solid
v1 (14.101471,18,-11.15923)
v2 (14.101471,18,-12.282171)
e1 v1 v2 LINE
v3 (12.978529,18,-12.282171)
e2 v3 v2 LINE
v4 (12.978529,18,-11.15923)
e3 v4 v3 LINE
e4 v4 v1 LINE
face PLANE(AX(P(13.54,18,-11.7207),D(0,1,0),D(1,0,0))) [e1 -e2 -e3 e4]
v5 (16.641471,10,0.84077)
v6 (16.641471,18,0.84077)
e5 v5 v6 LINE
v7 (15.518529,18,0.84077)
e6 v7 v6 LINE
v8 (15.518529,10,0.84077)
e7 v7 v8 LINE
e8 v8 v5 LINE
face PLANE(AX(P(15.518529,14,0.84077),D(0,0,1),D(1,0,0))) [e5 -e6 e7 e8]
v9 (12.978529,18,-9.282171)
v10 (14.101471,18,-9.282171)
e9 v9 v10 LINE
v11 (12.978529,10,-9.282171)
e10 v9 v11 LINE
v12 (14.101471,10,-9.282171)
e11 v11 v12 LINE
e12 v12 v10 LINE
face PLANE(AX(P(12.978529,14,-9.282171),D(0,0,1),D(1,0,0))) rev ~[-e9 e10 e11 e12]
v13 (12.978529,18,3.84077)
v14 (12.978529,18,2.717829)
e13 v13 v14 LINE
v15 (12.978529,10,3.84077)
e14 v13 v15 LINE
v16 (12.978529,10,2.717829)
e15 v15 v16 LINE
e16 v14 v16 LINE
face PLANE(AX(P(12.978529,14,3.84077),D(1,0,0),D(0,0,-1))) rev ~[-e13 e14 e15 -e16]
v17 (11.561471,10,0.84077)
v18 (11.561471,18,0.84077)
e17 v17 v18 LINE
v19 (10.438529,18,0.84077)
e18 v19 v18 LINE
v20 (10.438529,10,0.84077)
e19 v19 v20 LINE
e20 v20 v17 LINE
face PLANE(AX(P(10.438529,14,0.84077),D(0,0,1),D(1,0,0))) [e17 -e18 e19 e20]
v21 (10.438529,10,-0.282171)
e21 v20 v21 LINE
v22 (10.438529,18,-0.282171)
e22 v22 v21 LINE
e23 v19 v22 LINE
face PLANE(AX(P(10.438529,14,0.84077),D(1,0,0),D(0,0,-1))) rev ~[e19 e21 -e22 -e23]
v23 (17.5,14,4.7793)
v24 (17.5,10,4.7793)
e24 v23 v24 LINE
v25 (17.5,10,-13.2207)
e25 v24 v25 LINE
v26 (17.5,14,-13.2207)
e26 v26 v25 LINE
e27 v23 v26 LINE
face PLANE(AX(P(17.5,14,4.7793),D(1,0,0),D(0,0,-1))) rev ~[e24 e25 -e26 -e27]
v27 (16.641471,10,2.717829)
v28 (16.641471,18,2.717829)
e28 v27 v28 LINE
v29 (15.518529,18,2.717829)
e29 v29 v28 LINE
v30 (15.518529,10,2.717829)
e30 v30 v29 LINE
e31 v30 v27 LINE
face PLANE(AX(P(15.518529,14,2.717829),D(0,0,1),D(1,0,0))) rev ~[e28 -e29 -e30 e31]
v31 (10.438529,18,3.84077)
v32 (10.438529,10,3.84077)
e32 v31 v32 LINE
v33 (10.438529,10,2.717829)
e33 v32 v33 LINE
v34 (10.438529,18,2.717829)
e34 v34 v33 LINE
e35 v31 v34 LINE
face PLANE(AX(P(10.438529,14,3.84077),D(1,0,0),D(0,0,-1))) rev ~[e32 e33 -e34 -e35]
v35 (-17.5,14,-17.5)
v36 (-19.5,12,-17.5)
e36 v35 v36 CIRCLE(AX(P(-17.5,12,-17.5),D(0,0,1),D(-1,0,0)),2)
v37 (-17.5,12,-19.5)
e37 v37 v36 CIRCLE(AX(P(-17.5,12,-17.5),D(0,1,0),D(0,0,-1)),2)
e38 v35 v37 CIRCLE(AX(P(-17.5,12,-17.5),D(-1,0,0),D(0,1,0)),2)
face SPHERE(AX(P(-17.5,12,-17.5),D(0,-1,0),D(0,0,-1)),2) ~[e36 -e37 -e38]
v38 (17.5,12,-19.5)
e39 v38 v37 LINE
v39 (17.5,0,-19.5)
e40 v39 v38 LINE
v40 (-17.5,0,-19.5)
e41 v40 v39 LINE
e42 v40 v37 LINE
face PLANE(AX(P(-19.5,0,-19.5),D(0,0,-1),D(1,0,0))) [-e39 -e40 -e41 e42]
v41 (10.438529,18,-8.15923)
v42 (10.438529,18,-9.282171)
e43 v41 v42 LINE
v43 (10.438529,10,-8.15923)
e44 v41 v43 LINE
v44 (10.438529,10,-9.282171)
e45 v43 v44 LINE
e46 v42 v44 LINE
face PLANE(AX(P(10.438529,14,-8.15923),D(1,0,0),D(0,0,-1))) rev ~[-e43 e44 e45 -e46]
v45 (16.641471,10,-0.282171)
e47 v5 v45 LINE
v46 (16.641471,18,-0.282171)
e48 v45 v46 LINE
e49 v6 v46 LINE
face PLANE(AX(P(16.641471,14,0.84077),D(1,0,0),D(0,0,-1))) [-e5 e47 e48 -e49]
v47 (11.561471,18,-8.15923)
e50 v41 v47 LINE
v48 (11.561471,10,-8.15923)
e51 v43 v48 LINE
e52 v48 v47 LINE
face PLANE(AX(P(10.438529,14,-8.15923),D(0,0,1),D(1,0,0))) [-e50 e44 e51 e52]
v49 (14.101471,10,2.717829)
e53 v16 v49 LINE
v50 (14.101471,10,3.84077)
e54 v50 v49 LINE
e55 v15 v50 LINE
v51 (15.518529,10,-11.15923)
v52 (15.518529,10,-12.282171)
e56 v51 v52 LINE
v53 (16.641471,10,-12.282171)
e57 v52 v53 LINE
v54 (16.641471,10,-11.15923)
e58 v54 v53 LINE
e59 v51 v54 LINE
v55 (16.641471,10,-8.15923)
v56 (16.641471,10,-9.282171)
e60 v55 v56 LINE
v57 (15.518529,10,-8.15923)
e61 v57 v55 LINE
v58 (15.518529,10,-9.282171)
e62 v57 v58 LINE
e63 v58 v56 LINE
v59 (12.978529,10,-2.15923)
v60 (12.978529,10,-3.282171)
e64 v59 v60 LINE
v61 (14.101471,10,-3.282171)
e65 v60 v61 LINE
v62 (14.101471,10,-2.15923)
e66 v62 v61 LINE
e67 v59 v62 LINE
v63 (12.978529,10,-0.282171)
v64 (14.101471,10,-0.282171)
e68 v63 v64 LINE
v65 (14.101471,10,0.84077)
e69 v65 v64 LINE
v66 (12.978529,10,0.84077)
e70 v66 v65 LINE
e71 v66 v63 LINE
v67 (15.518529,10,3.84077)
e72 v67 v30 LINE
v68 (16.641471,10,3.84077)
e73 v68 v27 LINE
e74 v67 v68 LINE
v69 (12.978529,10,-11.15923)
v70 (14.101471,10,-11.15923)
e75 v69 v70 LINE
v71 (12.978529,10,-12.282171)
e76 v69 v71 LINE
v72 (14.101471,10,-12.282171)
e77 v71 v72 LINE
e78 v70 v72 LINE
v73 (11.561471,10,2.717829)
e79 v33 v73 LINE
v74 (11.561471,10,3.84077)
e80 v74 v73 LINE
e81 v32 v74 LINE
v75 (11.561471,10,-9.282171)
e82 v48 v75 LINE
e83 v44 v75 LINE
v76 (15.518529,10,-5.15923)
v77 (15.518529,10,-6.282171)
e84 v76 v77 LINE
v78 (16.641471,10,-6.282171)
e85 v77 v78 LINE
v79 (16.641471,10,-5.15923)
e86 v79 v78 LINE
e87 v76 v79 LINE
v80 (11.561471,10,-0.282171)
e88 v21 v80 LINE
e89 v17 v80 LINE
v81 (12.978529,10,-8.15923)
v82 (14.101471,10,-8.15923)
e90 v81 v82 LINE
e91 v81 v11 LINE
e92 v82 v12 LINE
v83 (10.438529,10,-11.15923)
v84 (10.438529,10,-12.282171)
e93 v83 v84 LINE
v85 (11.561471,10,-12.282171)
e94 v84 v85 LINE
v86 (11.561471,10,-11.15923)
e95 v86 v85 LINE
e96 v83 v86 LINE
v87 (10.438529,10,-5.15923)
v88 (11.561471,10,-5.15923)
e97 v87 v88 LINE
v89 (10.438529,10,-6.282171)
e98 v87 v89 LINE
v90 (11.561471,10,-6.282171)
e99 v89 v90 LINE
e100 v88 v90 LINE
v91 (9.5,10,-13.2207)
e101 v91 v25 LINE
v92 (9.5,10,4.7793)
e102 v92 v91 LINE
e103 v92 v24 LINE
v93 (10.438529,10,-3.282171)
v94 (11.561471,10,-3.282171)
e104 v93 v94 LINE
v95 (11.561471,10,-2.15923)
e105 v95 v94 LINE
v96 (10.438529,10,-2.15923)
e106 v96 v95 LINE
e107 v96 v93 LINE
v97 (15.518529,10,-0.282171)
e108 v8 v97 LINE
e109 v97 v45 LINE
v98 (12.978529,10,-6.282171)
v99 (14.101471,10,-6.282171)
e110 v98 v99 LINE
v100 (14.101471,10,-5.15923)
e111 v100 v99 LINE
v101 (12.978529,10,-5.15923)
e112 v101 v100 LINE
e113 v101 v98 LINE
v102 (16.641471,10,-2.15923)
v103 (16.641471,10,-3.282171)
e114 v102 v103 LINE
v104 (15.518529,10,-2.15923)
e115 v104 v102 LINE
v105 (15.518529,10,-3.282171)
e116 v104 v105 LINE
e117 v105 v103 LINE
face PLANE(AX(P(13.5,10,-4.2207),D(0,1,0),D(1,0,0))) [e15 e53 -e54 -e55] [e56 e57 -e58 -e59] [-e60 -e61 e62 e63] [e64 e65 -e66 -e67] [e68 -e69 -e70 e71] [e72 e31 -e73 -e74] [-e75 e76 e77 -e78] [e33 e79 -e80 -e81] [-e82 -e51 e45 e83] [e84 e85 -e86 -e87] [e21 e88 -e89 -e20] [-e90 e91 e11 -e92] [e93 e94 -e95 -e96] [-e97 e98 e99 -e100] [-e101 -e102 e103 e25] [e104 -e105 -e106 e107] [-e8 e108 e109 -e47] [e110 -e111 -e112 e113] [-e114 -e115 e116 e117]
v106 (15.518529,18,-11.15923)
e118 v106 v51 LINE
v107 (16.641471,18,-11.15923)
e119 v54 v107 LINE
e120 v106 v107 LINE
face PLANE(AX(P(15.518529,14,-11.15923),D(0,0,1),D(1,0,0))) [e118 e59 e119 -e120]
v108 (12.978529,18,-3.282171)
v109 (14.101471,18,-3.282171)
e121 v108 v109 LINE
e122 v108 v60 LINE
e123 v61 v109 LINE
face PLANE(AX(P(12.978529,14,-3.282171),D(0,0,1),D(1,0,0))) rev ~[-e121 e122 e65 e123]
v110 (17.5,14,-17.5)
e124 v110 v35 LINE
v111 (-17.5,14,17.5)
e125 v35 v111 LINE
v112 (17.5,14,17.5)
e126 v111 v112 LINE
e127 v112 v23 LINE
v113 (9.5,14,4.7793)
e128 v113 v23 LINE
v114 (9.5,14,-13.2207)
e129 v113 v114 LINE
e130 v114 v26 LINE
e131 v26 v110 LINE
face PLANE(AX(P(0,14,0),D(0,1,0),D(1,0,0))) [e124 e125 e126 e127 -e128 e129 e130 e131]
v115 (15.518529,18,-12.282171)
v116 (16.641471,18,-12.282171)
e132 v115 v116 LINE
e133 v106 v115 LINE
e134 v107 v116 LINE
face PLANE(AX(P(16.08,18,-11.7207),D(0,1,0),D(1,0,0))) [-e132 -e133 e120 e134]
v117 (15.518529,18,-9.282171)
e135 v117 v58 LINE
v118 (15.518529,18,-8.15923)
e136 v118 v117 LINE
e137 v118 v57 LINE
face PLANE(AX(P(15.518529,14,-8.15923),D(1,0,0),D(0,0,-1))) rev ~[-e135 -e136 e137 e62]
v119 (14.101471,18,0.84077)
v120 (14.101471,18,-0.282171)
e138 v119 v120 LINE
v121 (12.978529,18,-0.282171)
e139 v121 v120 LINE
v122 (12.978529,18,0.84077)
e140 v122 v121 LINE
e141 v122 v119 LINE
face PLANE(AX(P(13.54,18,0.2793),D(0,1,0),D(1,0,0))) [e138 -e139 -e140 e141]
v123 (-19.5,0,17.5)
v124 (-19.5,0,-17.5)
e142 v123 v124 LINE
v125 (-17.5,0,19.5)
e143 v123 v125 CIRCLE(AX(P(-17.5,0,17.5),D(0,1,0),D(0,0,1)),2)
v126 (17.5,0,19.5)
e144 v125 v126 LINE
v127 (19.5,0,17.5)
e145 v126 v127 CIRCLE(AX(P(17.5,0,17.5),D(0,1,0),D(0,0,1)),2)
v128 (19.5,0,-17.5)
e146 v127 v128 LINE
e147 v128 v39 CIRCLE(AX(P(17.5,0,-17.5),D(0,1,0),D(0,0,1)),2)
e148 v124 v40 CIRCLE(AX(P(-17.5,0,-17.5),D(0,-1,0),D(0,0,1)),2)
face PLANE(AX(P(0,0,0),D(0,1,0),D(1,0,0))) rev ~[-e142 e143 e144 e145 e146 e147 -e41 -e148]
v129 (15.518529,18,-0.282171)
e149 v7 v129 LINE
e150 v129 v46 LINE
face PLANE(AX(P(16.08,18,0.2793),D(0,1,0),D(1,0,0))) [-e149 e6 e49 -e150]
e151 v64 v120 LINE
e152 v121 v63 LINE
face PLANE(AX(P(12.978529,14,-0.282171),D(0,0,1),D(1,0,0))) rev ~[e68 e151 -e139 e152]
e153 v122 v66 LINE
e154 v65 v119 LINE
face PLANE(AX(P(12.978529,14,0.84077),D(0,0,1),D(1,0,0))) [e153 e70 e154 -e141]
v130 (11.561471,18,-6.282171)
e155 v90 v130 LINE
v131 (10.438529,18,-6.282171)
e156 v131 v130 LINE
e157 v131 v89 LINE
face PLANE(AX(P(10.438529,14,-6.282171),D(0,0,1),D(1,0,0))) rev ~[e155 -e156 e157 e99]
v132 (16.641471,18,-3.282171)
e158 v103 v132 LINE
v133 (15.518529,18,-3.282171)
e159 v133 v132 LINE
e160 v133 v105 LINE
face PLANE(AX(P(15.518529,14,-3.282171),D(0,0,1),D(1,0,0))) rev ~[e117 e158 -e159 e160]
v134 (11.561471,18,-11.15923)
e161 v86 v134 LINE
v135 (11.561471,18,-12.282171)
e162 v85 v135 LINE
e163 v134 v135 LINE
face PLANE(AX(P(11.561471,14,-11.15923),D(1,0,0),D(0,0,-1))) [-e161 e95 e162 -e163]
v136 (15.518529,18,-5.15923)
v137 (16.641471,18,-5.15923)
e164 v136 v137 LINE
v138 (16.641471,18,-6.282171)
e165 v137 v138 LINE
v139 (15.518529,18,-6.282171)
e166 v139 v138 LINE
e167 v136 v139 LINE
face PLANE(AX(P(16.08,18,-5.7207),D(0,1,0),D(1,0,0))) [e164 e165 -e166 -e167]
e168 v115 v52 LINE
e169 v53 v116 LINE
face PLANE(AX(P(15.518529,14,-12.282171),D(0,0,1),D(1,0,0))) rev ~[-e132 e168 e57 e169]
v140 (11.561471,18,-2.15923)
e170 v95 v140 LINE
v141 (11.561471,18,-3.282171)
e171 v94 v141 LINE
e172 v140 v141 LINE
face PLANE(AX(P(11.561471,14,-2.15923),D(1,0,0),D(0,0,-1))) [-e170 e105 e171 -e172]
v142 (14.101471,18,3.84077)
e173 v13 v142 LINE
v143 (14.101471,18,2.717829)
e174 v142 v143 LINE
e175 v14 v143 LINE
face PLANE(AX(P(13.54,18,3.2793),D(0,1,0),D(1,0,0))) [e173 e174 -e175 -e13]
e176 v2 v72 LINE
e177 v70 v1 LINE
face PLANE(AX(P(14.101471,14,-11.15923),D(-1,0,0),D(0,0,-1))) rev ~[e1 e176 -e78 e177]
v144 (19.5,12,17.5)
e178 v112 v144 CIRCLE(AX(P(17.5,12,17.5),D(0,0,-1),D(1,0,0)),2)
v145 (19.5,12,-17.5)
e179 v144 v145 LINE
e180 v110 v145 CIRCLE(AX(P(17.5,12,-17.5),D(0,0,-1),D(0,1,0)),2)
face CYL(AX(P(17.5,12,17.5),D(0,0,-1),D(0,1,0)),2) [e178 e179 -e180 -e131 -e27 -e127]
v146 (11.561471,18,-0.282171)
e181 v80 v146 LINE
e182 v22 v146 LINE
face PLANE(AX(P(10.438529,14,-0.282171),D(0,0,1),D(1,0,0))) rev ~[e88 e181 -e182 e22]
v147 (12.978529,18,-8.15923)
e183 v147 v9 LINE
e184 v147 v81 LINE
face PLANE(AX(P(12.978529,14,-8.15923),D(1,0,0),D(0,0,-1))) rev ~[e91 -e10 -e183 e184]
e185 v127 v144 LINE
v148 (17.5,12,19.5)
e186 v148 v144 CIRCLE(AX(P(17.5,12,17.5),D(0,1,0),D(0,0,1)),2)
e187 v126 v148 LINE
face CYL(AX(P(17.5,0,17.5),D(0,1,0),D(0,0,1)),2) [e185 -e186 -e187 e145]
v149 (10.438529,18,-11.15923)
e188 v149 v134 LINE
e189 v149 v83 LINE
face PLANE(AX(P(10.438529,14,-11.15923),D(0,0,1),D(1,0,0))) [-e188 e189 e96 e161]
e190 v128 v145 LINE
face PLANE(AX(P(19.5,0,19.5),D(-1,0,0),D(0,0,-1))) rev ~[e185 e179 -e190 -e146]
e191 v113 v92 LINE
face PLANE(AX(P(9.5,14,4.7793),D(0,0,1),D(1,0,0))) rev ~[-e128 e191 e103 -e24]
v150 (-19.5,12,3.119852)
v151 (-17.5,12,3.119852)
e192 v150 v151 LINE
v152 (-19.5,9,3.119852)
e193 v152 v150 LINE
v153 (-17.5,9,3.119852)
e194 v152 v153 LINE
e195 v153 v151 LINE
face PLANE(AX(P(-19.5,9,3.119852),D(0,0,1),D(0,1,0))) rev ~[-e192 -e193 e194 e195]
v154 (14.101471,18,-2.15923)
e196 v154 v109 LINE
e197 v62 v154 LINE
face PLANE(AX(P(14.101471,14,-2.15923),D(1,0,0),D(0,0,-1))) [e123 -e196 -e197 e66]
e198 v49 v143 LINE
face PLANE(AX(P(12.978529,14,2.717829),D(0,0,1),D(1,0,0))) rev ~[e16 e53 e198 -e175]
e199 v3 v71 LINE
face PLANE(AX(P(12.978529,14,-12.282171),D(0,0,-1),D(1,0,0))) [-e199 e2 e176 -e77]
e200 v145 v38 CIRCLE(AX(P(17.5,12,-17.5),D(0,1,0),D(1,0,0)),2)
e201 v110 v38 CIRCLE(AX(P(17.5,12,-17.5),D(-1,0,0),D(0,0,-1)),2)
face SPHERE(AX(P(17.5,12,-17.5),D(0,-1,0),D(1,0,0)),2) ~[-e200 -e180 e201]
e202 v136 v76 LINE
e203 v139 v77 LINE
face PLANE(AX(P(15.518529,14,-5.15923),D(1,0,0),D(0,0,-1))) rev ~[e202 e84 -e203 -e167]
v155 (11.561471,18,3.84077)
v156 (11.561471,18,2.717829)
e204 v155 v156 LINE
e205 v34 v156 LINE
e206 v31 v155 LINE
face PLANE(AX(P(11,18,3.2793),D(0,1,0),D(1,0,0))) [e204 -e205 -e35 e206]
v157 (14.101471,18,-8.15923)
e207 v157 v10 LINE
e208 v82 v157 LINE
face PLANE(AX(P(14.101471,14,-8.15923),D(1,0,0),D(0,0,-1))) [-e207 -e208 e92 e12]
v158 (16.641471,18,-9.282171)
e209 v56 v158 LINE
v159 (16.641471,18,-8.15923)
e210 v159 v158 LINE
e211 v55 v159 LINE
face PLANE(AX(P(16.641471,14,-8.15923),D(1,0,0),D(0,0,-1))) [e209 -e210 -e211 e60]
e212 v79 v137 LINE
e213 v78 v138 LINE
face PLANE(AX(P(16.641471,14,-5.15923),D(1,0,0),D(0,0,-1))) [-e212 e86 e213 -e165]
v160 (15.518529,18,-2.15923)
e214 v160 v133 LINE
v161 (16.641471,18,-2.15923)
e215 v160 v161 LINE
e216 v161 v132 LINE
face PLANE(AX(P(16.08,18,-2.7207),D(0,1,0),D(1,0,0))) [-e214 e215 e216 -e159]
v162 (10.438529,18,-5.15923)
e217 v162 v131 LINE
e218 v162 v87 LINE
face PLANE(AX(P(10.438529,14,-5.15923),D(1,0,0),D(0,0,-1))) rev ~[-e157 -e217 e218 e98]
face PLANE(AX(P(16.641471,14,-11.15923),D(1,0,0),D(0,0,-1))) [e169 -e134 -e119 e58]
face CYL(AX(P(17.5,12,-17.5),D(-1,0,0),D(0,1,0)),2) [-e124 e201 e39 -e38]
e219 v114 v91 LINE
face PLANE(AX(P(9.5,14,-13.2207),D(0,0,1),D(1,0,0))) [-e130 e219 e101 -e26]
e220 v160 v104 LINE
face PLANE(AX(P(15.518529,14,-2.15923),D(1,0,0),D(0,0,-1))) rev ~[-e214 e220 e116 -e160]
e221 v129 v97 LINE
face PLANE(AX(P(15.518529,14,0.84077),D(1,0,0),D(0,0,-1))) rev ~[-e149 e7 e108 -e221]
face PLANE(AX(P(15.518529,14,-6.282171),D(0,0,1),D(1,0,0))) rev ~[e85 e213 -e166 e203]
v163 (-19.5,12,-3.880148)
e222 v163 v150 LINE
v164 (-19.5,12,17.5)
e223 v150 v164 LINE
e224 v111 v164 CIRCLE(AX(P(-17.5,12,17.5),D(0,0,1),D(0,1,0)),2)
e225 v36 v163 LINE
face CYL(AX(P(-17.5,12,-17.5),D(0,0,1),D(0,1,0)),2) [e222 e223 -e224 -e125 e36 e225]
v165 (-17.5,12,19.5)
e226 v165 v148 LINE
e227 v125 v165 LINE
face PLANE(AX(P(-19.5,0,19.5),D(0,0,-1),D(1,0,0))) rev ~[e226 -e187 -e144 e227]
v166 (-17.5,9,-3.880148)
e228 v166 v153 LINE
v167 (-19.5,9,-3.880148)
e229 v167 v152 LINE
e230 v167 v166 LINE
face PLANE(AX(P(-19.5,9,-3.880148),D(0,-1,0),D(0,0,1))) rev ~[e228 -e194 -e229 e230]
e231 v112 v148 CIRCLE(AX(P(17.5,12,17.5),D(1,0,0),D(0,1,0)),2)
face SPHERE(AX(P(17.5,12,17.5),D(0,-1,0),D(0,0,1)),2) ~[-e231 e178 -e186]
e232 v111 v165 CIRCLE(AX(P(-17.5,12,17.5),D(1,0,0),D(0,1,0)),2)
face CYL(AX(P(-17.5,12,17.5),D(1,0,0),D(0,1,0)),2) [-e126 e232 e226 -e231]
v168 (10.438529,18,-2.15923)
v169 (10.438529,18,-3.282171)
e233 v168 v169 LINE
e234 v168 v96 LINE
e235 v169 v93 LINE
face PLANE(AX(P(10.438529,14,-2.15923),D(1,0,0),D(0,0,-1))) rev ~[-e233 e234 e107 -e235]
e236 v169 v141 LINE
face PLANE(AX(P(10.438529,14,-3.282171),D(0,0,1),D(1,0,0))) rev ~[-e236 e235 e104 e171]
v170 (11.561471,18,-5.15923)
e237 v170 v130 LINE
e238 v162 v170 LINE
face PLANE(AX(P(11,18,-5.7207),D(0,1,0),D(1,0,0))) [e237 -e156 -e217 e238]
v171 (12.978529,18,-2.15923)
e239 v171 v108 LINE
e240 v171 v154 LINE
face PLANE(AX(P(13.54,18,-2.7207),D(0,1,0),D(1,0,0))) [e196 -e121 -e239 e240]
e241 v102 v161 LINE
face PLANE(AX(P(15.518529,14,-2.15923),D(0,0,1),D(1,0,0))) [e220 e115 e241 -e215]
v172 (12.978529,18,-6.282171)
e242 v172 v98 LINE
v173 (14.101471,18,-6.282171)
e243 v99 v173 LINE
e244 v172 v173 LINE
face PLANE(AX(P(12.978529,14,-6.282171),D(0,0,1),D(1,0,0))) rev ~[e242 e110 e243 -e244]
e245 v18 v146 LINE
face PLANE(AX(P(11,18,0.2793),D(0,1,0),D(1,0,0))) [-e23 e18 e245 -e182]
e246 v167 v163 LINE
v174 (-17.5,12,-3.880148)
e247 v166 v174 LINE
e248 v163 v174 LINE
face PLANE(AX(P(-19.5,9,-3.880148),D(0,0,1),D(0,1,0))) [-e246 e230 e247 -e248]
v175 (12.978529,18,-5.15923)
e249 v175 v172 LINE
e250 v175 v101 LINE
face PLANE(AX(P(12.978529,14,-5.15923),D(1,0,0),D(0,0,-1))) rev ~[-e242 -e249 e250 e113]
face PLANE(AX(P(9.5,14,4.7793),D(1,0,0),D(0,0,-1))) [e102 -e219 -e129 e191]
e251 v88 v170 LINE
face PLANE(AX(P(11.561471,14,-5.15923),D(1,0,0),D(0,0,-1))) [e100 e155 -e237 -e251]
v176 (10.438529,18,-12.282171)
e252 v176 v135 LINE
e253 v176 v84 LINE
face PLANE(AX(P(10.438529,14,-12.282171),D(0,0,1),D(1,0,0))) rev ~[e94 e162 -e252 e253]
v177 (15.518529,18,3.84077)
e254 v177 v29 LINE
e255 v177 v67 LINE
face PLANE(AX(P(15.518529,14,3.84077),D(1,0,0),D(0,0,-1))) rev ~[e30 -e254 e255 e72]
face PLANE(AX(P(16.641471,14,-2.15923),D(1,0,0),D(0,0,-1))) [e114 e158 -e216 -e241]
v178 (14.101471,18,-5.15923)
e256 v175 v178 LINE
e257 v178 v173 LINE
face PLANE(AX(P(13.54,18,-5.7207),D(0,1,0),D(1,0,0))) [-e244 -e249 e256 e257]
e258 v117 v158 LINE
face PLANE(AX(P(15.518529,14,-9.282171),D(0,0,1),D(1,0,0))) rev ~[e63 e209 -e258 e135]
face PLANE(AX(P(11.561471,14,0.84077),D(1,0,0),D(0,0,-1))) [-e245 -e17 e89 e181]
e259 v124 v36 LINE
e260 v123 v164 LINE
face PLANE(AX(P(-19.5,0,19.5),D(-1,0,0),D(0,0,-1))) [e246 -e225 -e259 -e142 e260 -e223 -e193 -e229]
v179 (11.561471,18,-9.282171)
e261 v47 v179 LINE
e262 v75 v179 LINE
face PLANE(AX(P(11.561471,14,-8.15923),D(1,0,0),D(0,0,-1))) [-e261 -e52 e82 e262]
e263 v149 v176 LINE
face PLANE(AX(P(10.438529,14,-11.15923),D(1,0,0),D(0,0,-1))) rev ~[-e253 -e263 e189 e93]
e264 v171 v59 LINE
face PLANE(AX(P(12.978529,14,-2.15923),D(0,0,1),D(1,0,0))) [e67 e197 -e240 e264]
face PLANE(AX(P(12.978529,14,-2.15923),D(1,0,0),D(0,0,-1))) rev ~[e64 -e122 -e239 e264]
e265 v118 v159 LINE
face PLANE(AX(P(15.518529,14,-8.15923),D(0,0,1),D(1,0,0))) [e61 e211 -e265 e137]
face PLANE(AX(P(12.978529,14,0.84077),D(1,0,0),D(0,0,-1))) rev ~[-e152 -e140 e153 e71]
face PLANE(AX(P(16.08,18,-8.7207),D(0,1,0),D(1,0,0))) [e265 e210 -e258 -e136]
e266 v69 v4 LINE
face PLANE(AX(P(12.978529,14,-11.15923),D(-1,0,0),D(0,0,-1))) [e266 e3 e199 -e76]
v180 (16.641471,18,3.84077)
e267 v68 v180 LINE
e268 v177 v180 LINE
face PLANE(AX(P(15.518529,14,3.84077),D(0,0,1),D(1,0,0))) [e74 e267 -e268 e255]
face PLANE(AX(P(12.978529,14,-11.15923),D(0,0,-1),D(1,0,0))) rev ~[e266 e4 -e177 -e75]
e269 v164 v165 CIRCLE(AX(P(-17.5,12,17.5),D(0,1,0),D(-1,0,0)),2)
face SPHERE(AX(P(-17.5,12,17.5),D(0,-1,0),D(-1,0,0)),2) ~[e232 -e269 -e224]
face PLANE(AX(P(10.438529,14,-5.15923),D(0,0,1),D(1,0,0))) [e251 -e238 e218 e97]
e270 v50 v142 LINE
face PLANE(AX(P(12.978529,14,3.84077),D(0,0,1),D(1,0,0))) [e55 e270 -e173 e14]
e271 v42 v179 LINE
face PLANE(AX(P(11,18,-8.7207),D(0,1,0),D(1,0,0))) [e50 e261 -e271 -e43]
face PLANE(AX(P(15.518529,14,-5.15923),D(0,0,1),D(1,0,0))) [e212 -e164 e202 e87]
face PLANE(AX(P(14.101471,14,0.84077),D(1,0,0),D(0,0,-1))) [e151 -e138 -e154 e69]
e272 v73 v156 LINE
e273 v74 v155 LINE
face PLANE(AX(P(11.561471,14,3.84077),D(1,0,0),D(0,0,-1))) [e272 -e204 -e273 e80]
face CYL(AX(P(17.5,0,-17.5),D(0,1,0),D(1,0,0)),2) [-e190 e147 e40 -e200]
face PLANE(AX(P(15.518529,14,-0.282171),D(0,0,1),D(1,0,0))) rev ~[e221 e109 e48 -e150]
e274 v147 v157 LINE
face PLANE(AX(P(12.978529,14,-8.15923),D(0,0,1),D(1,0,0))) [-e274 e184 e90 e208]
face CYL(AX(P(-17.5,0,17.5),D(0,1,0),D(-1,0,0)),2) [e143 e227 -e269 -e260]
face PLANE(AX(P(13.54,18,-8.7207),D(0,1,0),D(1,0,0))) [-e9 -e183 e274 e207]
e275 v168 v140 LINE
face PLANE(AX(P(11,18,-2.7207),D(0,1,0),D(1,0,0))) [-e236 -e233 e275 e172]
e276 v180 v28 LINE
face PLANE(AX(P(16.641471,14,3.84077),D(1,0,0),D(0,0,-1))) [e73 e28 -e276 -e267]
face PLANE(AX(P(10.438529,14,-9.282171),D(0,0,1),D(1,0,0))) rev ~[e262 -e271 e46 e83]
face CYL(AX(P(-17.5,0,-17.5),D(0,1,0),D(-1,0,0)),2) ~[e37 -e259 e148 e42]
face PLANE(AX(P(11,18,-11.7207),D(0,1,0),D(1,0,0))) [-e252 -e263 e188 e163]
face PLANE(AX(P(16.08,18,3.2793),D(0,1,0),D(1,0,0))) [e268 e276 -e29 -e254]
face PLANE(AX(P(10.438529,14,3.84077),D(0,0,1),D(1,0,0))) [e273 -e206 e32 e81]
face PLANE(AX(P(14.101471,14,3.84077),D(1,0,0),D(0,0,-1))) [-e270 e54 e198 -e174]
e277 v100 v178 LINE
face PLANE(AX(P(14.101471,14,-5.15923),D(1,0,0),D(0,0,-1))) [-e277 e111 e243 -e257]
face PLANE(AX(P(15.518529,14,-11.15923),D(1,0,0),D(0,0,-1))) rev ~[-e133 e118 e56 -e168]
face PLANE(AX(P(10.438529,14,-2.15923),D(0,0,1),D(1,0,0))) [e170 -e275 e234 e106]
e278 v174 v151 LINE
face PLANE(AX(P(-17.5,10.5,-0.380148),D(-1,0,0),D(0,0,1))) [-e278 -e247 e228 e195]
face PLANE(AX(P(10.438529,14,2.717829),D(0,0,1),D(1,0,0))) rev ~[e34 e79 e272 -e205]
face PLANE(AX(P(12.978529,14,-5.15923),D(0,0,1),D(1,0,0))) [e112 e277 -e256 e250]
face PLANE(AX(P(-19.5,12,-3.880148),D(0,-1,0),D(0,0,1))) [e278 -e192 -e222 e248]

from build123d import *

# Parameters (mm, degrees)
SKETCH1_W           = 39
SKETCH1_H           = 39
BOSS_EXTRUDE1_DEPTH = 14
FILLET1_R           = 2
FILLET2_R           = 2
SKETCH2_W           = 8
SKETCH2_H           = 18
SKETCH2_W_2         = 1.12294134
SKETCH2_H_2         = 1.122941341
CUT_EXTRUDE1_DEPTH  = 4
SKETCH2_2_W         = 1.12294134
SKETCH2_2_H         = 1.122941341
BOSS_EXTRUDE3_DEPTH = 4
SKETCH3_W           = 7
SKETCH3_H           = 3
CUT_EXTRUDE2_DEPTH  = 2


with BuildPart() as part:
    # Sketch1 → Boss-Extrude1 (new body)
    with BuildSketch(Plane(origin=(0, 0, 0), x_dir=(1, 0, 0), z_dir=(0, 1, 0))):
        Rectangle(SKETCH1_W, SKETCH1_H)
    extrude(amount=BOSS_EXTRUDE1_DEPTH)

    # Fillet1
    fillet1_edges = [part.edges().sort_by_distance(p)[0] for p in [
        (19.5, 7, 19.5),
        (-19.5, 7, 19.5),
        (-19.5, 7, -19.5),
        (19.5, 7, -19.5),
    ]]
    fillet(fillet1_edges, radius=FILLET1_R)

    # Fillet2
    fillet2_edges = [part.edges().sort_by_distance(p)[0] for p in [
        (0, 14, 19.5),
        (-19.5, 14, 0),
        (19.5, 14, 0),
        (0, 14, -19.5),
        (18.914213562, 14, 18.914213562),
        (18.914213562, 14, -18.914213562),
        (-18.914213562, 14, -18.914213562),
        (-18.914213562, 14, 18.914213562),
    ]]
    fillet(fillet2_edges, radius=FILLET2_R)

    # Sketch2 → Cut-Extrude1 (cut)
    with BuildSketch(Plane(origin=(0, 14, 0), x_dir=(1, 0, 0), z_dir=(0, 1, 0))):
        with Locations((13.5, 4.220700243)):
            Rectangle(SKETCH2_W, SKETCH2_H)
        with Locations((13.54, 11.720700244)):
            Rectangle(SKETCH2_W_2, SKETCH2_H_2, mode=Mode.SUBTRACT)
        with Locations((11, 11.720700244)):
            Rectangle(SKETCH2_W_2, SKETCH2_H_2, mode=Mode.SUBTRACT)
        with Locations((16.08, 11.720700244)):
            Rectangle(SKETCH2_W_2, SKETCH2_H_2, mode=Mode.SUBTRACT)
        with Locations((11, 8.720700244)):
            Rectangle(SKETCH2_W_2, SKETCH2_H_2, mode=Mode.SUBTRACT)
        with Locations((13.54, 8.720700244)):
            Rectangle(SKETCH2_W_2, SKETCH2_H_2, mode=Mode.SUBTRACT)
        with Locations((16.08, 8.720700244)):
            Rectangle(SKETCH2_W_2, SKETCH2_H_2, mode=Mode.SUBTRACT)
        with Locations((11, 5.720700244)):
            Rectangle(SKETCH2_W_2, SKETCH2_H_2, mode=Mode.SUBTRACT)
        with Locations((13.54, 5.720700244)):
            Rectangle(SKETCH2_W_2, SKETCH2_H_2, mode=Mode.SUBTRACT)
        with Locations((16.08, 5.720700244)):
            Rectangle(SKETCH2_W_2, SKETCH2_H_2, mode=Mode.SUBTRACT)
        with Locations((11, 2.720700244)):
            Rectangle(SKETCH2_W_2, SKETCH2_H_2, mode=Mode.SUBTRACT)
        with Locations((13.54, 2.720700244)):
            Rectangle(SKETCH2_W_2, SKETCH2_H_2, mode=Mode.SUBTRACT)
        with Locations((16.08, 2.720700244)):
            Rectangle(SKETCH2_W_2, SKETCH2_H_2, mode=Mode.SUBTRACT)
        with Locations((11, -0.279299757)):
            Rectangle(SKETCH2_W_2, SKETCH2_H_2, mode=Mode.SUBTRACT)
        with Locations((13.54, -0.279299757)):
            Rectangle(SKETCH2_W_2, SKETCH2_H_2, mode=Mode.SUBTRACT)
        with Locations((16.08, -0.279299757)):
            Rectangle(SKETCH2_W_2, SKETCH2_H_2, mode=Mode.SUBTRACT)
        with Locations((11, -3.279299757)):
            Rectangle(SKETCH2_W_2, SKETCH2_H_2, mode=Mode.SUBTRACT)
        with Locations((13.54, -3.279299757)):
            Rectangle(SKETCH2_W_2, SKETCH2_H_2, mode=Mode.SUBTRACT)
        with Locations((16.08, -3.279299757)):
            Rectangle(SKETCH2_W_2, SKETCH2_H_2, mode=Mode.SUBTRACT)
    extrude(amount=-CUT_EXTRUDE1_DEPTH, mode=Mode.SUBTRACT)

    # Sketch2<2> → Boss-Extrude3 (add)
    with BuildSketch(Plane(origin=(0, 14, 0), x_dir=(1, 0, 0), z_dir=(0, 1, 0))):
        with Locations((13.54, 11.720700244)):
            Rectangle(SKETCH2_2_W, SKETCH2_2_H)
        with Locations((11, 11.720700244)):
            Rectangle(SKETCH2_2_W, SKETCH2_2_H)
        with Locations((16.08, 11.720700244)):
            Rectangle(SKETCH2_2_W, SKETCH2_2_H)
        with Locations((11, 8.720700244)):
            Rectangle(SKETCH2_2_W, SKETCH2_2_H)
        with Locations((13.54, 8.720700244)):
            Rectangle(SKETCH2_2_W, SKETCH2_2_H)
        with Locations((16.08, 8.720700244)):
            Rectangle(SKETCH2_2_W, SKETCH2_2_H)
        with Locations((11, 5.720700244)):
            Rectangle(SKETCH2_2_W, SKETCH2_2_H)
        with Locations((13.54, 5.720700244)):
            Rectangle(SKETCH2_2_W, SKETCH2_2_H)
        with Locations((16.08, 5.720700244)):
            Rectangle(SKETCH2_2_W, SKETCH2_2_H)
        with Locations((11, 2.720700244)):
            Rectangle(SKETCH2_2_W, SKETCH2_2_H)
        with Locations((13.54, 2.720700244)):
            Rectangle(SKETCH2_2_W, SKETCH2_2_H)
        with Locations((16.08, 2.720700244)):
            Rectangle(SKETCH2_2_W, SKETCH2_2_H)
        with Locations((11, -0.279299757)):
            Rectangle(SKETCH2_2_W, SKETCH2_2_H)
        with Locations((13.54, -0.279299757)):
            Rectangle(SKETCH2_2_W, SKETCH2_2_H)
        with Locations((16.08, -0.279299757)):
            Rectangle(SKETCH2_2_W, SKETCH2_2_H)
        with Locations((11, -3.279299757)):
            Rectangle(SKETCH2_2_W, SKETCH2_2_H)
        with Locations((13.54, -3.279299757)):
            Rectangle(SKETCH2_2_W, SKETCH2_2_H)
        with Locations((16.08, -3.279299757)):
            Rectangle(SKETCH2_2_W, SKETCH2_2_H)
    extrude(amount=BOSS_EXTRUDE3_DEPTH)

    # Sketch3 → Cut-Extrude2 (cut)
    with BuildSketch(Plane.ZY.offset(19.5)):
        with Locations((-0.380147746, 10.5)):
            Rectangle(SKETCH3_W, SKETCH3_H)
    extrude(amount=-CUT_EXTRUDE2_DEPTH, mode=Mode.SUBTRACT)


solid = part.part
